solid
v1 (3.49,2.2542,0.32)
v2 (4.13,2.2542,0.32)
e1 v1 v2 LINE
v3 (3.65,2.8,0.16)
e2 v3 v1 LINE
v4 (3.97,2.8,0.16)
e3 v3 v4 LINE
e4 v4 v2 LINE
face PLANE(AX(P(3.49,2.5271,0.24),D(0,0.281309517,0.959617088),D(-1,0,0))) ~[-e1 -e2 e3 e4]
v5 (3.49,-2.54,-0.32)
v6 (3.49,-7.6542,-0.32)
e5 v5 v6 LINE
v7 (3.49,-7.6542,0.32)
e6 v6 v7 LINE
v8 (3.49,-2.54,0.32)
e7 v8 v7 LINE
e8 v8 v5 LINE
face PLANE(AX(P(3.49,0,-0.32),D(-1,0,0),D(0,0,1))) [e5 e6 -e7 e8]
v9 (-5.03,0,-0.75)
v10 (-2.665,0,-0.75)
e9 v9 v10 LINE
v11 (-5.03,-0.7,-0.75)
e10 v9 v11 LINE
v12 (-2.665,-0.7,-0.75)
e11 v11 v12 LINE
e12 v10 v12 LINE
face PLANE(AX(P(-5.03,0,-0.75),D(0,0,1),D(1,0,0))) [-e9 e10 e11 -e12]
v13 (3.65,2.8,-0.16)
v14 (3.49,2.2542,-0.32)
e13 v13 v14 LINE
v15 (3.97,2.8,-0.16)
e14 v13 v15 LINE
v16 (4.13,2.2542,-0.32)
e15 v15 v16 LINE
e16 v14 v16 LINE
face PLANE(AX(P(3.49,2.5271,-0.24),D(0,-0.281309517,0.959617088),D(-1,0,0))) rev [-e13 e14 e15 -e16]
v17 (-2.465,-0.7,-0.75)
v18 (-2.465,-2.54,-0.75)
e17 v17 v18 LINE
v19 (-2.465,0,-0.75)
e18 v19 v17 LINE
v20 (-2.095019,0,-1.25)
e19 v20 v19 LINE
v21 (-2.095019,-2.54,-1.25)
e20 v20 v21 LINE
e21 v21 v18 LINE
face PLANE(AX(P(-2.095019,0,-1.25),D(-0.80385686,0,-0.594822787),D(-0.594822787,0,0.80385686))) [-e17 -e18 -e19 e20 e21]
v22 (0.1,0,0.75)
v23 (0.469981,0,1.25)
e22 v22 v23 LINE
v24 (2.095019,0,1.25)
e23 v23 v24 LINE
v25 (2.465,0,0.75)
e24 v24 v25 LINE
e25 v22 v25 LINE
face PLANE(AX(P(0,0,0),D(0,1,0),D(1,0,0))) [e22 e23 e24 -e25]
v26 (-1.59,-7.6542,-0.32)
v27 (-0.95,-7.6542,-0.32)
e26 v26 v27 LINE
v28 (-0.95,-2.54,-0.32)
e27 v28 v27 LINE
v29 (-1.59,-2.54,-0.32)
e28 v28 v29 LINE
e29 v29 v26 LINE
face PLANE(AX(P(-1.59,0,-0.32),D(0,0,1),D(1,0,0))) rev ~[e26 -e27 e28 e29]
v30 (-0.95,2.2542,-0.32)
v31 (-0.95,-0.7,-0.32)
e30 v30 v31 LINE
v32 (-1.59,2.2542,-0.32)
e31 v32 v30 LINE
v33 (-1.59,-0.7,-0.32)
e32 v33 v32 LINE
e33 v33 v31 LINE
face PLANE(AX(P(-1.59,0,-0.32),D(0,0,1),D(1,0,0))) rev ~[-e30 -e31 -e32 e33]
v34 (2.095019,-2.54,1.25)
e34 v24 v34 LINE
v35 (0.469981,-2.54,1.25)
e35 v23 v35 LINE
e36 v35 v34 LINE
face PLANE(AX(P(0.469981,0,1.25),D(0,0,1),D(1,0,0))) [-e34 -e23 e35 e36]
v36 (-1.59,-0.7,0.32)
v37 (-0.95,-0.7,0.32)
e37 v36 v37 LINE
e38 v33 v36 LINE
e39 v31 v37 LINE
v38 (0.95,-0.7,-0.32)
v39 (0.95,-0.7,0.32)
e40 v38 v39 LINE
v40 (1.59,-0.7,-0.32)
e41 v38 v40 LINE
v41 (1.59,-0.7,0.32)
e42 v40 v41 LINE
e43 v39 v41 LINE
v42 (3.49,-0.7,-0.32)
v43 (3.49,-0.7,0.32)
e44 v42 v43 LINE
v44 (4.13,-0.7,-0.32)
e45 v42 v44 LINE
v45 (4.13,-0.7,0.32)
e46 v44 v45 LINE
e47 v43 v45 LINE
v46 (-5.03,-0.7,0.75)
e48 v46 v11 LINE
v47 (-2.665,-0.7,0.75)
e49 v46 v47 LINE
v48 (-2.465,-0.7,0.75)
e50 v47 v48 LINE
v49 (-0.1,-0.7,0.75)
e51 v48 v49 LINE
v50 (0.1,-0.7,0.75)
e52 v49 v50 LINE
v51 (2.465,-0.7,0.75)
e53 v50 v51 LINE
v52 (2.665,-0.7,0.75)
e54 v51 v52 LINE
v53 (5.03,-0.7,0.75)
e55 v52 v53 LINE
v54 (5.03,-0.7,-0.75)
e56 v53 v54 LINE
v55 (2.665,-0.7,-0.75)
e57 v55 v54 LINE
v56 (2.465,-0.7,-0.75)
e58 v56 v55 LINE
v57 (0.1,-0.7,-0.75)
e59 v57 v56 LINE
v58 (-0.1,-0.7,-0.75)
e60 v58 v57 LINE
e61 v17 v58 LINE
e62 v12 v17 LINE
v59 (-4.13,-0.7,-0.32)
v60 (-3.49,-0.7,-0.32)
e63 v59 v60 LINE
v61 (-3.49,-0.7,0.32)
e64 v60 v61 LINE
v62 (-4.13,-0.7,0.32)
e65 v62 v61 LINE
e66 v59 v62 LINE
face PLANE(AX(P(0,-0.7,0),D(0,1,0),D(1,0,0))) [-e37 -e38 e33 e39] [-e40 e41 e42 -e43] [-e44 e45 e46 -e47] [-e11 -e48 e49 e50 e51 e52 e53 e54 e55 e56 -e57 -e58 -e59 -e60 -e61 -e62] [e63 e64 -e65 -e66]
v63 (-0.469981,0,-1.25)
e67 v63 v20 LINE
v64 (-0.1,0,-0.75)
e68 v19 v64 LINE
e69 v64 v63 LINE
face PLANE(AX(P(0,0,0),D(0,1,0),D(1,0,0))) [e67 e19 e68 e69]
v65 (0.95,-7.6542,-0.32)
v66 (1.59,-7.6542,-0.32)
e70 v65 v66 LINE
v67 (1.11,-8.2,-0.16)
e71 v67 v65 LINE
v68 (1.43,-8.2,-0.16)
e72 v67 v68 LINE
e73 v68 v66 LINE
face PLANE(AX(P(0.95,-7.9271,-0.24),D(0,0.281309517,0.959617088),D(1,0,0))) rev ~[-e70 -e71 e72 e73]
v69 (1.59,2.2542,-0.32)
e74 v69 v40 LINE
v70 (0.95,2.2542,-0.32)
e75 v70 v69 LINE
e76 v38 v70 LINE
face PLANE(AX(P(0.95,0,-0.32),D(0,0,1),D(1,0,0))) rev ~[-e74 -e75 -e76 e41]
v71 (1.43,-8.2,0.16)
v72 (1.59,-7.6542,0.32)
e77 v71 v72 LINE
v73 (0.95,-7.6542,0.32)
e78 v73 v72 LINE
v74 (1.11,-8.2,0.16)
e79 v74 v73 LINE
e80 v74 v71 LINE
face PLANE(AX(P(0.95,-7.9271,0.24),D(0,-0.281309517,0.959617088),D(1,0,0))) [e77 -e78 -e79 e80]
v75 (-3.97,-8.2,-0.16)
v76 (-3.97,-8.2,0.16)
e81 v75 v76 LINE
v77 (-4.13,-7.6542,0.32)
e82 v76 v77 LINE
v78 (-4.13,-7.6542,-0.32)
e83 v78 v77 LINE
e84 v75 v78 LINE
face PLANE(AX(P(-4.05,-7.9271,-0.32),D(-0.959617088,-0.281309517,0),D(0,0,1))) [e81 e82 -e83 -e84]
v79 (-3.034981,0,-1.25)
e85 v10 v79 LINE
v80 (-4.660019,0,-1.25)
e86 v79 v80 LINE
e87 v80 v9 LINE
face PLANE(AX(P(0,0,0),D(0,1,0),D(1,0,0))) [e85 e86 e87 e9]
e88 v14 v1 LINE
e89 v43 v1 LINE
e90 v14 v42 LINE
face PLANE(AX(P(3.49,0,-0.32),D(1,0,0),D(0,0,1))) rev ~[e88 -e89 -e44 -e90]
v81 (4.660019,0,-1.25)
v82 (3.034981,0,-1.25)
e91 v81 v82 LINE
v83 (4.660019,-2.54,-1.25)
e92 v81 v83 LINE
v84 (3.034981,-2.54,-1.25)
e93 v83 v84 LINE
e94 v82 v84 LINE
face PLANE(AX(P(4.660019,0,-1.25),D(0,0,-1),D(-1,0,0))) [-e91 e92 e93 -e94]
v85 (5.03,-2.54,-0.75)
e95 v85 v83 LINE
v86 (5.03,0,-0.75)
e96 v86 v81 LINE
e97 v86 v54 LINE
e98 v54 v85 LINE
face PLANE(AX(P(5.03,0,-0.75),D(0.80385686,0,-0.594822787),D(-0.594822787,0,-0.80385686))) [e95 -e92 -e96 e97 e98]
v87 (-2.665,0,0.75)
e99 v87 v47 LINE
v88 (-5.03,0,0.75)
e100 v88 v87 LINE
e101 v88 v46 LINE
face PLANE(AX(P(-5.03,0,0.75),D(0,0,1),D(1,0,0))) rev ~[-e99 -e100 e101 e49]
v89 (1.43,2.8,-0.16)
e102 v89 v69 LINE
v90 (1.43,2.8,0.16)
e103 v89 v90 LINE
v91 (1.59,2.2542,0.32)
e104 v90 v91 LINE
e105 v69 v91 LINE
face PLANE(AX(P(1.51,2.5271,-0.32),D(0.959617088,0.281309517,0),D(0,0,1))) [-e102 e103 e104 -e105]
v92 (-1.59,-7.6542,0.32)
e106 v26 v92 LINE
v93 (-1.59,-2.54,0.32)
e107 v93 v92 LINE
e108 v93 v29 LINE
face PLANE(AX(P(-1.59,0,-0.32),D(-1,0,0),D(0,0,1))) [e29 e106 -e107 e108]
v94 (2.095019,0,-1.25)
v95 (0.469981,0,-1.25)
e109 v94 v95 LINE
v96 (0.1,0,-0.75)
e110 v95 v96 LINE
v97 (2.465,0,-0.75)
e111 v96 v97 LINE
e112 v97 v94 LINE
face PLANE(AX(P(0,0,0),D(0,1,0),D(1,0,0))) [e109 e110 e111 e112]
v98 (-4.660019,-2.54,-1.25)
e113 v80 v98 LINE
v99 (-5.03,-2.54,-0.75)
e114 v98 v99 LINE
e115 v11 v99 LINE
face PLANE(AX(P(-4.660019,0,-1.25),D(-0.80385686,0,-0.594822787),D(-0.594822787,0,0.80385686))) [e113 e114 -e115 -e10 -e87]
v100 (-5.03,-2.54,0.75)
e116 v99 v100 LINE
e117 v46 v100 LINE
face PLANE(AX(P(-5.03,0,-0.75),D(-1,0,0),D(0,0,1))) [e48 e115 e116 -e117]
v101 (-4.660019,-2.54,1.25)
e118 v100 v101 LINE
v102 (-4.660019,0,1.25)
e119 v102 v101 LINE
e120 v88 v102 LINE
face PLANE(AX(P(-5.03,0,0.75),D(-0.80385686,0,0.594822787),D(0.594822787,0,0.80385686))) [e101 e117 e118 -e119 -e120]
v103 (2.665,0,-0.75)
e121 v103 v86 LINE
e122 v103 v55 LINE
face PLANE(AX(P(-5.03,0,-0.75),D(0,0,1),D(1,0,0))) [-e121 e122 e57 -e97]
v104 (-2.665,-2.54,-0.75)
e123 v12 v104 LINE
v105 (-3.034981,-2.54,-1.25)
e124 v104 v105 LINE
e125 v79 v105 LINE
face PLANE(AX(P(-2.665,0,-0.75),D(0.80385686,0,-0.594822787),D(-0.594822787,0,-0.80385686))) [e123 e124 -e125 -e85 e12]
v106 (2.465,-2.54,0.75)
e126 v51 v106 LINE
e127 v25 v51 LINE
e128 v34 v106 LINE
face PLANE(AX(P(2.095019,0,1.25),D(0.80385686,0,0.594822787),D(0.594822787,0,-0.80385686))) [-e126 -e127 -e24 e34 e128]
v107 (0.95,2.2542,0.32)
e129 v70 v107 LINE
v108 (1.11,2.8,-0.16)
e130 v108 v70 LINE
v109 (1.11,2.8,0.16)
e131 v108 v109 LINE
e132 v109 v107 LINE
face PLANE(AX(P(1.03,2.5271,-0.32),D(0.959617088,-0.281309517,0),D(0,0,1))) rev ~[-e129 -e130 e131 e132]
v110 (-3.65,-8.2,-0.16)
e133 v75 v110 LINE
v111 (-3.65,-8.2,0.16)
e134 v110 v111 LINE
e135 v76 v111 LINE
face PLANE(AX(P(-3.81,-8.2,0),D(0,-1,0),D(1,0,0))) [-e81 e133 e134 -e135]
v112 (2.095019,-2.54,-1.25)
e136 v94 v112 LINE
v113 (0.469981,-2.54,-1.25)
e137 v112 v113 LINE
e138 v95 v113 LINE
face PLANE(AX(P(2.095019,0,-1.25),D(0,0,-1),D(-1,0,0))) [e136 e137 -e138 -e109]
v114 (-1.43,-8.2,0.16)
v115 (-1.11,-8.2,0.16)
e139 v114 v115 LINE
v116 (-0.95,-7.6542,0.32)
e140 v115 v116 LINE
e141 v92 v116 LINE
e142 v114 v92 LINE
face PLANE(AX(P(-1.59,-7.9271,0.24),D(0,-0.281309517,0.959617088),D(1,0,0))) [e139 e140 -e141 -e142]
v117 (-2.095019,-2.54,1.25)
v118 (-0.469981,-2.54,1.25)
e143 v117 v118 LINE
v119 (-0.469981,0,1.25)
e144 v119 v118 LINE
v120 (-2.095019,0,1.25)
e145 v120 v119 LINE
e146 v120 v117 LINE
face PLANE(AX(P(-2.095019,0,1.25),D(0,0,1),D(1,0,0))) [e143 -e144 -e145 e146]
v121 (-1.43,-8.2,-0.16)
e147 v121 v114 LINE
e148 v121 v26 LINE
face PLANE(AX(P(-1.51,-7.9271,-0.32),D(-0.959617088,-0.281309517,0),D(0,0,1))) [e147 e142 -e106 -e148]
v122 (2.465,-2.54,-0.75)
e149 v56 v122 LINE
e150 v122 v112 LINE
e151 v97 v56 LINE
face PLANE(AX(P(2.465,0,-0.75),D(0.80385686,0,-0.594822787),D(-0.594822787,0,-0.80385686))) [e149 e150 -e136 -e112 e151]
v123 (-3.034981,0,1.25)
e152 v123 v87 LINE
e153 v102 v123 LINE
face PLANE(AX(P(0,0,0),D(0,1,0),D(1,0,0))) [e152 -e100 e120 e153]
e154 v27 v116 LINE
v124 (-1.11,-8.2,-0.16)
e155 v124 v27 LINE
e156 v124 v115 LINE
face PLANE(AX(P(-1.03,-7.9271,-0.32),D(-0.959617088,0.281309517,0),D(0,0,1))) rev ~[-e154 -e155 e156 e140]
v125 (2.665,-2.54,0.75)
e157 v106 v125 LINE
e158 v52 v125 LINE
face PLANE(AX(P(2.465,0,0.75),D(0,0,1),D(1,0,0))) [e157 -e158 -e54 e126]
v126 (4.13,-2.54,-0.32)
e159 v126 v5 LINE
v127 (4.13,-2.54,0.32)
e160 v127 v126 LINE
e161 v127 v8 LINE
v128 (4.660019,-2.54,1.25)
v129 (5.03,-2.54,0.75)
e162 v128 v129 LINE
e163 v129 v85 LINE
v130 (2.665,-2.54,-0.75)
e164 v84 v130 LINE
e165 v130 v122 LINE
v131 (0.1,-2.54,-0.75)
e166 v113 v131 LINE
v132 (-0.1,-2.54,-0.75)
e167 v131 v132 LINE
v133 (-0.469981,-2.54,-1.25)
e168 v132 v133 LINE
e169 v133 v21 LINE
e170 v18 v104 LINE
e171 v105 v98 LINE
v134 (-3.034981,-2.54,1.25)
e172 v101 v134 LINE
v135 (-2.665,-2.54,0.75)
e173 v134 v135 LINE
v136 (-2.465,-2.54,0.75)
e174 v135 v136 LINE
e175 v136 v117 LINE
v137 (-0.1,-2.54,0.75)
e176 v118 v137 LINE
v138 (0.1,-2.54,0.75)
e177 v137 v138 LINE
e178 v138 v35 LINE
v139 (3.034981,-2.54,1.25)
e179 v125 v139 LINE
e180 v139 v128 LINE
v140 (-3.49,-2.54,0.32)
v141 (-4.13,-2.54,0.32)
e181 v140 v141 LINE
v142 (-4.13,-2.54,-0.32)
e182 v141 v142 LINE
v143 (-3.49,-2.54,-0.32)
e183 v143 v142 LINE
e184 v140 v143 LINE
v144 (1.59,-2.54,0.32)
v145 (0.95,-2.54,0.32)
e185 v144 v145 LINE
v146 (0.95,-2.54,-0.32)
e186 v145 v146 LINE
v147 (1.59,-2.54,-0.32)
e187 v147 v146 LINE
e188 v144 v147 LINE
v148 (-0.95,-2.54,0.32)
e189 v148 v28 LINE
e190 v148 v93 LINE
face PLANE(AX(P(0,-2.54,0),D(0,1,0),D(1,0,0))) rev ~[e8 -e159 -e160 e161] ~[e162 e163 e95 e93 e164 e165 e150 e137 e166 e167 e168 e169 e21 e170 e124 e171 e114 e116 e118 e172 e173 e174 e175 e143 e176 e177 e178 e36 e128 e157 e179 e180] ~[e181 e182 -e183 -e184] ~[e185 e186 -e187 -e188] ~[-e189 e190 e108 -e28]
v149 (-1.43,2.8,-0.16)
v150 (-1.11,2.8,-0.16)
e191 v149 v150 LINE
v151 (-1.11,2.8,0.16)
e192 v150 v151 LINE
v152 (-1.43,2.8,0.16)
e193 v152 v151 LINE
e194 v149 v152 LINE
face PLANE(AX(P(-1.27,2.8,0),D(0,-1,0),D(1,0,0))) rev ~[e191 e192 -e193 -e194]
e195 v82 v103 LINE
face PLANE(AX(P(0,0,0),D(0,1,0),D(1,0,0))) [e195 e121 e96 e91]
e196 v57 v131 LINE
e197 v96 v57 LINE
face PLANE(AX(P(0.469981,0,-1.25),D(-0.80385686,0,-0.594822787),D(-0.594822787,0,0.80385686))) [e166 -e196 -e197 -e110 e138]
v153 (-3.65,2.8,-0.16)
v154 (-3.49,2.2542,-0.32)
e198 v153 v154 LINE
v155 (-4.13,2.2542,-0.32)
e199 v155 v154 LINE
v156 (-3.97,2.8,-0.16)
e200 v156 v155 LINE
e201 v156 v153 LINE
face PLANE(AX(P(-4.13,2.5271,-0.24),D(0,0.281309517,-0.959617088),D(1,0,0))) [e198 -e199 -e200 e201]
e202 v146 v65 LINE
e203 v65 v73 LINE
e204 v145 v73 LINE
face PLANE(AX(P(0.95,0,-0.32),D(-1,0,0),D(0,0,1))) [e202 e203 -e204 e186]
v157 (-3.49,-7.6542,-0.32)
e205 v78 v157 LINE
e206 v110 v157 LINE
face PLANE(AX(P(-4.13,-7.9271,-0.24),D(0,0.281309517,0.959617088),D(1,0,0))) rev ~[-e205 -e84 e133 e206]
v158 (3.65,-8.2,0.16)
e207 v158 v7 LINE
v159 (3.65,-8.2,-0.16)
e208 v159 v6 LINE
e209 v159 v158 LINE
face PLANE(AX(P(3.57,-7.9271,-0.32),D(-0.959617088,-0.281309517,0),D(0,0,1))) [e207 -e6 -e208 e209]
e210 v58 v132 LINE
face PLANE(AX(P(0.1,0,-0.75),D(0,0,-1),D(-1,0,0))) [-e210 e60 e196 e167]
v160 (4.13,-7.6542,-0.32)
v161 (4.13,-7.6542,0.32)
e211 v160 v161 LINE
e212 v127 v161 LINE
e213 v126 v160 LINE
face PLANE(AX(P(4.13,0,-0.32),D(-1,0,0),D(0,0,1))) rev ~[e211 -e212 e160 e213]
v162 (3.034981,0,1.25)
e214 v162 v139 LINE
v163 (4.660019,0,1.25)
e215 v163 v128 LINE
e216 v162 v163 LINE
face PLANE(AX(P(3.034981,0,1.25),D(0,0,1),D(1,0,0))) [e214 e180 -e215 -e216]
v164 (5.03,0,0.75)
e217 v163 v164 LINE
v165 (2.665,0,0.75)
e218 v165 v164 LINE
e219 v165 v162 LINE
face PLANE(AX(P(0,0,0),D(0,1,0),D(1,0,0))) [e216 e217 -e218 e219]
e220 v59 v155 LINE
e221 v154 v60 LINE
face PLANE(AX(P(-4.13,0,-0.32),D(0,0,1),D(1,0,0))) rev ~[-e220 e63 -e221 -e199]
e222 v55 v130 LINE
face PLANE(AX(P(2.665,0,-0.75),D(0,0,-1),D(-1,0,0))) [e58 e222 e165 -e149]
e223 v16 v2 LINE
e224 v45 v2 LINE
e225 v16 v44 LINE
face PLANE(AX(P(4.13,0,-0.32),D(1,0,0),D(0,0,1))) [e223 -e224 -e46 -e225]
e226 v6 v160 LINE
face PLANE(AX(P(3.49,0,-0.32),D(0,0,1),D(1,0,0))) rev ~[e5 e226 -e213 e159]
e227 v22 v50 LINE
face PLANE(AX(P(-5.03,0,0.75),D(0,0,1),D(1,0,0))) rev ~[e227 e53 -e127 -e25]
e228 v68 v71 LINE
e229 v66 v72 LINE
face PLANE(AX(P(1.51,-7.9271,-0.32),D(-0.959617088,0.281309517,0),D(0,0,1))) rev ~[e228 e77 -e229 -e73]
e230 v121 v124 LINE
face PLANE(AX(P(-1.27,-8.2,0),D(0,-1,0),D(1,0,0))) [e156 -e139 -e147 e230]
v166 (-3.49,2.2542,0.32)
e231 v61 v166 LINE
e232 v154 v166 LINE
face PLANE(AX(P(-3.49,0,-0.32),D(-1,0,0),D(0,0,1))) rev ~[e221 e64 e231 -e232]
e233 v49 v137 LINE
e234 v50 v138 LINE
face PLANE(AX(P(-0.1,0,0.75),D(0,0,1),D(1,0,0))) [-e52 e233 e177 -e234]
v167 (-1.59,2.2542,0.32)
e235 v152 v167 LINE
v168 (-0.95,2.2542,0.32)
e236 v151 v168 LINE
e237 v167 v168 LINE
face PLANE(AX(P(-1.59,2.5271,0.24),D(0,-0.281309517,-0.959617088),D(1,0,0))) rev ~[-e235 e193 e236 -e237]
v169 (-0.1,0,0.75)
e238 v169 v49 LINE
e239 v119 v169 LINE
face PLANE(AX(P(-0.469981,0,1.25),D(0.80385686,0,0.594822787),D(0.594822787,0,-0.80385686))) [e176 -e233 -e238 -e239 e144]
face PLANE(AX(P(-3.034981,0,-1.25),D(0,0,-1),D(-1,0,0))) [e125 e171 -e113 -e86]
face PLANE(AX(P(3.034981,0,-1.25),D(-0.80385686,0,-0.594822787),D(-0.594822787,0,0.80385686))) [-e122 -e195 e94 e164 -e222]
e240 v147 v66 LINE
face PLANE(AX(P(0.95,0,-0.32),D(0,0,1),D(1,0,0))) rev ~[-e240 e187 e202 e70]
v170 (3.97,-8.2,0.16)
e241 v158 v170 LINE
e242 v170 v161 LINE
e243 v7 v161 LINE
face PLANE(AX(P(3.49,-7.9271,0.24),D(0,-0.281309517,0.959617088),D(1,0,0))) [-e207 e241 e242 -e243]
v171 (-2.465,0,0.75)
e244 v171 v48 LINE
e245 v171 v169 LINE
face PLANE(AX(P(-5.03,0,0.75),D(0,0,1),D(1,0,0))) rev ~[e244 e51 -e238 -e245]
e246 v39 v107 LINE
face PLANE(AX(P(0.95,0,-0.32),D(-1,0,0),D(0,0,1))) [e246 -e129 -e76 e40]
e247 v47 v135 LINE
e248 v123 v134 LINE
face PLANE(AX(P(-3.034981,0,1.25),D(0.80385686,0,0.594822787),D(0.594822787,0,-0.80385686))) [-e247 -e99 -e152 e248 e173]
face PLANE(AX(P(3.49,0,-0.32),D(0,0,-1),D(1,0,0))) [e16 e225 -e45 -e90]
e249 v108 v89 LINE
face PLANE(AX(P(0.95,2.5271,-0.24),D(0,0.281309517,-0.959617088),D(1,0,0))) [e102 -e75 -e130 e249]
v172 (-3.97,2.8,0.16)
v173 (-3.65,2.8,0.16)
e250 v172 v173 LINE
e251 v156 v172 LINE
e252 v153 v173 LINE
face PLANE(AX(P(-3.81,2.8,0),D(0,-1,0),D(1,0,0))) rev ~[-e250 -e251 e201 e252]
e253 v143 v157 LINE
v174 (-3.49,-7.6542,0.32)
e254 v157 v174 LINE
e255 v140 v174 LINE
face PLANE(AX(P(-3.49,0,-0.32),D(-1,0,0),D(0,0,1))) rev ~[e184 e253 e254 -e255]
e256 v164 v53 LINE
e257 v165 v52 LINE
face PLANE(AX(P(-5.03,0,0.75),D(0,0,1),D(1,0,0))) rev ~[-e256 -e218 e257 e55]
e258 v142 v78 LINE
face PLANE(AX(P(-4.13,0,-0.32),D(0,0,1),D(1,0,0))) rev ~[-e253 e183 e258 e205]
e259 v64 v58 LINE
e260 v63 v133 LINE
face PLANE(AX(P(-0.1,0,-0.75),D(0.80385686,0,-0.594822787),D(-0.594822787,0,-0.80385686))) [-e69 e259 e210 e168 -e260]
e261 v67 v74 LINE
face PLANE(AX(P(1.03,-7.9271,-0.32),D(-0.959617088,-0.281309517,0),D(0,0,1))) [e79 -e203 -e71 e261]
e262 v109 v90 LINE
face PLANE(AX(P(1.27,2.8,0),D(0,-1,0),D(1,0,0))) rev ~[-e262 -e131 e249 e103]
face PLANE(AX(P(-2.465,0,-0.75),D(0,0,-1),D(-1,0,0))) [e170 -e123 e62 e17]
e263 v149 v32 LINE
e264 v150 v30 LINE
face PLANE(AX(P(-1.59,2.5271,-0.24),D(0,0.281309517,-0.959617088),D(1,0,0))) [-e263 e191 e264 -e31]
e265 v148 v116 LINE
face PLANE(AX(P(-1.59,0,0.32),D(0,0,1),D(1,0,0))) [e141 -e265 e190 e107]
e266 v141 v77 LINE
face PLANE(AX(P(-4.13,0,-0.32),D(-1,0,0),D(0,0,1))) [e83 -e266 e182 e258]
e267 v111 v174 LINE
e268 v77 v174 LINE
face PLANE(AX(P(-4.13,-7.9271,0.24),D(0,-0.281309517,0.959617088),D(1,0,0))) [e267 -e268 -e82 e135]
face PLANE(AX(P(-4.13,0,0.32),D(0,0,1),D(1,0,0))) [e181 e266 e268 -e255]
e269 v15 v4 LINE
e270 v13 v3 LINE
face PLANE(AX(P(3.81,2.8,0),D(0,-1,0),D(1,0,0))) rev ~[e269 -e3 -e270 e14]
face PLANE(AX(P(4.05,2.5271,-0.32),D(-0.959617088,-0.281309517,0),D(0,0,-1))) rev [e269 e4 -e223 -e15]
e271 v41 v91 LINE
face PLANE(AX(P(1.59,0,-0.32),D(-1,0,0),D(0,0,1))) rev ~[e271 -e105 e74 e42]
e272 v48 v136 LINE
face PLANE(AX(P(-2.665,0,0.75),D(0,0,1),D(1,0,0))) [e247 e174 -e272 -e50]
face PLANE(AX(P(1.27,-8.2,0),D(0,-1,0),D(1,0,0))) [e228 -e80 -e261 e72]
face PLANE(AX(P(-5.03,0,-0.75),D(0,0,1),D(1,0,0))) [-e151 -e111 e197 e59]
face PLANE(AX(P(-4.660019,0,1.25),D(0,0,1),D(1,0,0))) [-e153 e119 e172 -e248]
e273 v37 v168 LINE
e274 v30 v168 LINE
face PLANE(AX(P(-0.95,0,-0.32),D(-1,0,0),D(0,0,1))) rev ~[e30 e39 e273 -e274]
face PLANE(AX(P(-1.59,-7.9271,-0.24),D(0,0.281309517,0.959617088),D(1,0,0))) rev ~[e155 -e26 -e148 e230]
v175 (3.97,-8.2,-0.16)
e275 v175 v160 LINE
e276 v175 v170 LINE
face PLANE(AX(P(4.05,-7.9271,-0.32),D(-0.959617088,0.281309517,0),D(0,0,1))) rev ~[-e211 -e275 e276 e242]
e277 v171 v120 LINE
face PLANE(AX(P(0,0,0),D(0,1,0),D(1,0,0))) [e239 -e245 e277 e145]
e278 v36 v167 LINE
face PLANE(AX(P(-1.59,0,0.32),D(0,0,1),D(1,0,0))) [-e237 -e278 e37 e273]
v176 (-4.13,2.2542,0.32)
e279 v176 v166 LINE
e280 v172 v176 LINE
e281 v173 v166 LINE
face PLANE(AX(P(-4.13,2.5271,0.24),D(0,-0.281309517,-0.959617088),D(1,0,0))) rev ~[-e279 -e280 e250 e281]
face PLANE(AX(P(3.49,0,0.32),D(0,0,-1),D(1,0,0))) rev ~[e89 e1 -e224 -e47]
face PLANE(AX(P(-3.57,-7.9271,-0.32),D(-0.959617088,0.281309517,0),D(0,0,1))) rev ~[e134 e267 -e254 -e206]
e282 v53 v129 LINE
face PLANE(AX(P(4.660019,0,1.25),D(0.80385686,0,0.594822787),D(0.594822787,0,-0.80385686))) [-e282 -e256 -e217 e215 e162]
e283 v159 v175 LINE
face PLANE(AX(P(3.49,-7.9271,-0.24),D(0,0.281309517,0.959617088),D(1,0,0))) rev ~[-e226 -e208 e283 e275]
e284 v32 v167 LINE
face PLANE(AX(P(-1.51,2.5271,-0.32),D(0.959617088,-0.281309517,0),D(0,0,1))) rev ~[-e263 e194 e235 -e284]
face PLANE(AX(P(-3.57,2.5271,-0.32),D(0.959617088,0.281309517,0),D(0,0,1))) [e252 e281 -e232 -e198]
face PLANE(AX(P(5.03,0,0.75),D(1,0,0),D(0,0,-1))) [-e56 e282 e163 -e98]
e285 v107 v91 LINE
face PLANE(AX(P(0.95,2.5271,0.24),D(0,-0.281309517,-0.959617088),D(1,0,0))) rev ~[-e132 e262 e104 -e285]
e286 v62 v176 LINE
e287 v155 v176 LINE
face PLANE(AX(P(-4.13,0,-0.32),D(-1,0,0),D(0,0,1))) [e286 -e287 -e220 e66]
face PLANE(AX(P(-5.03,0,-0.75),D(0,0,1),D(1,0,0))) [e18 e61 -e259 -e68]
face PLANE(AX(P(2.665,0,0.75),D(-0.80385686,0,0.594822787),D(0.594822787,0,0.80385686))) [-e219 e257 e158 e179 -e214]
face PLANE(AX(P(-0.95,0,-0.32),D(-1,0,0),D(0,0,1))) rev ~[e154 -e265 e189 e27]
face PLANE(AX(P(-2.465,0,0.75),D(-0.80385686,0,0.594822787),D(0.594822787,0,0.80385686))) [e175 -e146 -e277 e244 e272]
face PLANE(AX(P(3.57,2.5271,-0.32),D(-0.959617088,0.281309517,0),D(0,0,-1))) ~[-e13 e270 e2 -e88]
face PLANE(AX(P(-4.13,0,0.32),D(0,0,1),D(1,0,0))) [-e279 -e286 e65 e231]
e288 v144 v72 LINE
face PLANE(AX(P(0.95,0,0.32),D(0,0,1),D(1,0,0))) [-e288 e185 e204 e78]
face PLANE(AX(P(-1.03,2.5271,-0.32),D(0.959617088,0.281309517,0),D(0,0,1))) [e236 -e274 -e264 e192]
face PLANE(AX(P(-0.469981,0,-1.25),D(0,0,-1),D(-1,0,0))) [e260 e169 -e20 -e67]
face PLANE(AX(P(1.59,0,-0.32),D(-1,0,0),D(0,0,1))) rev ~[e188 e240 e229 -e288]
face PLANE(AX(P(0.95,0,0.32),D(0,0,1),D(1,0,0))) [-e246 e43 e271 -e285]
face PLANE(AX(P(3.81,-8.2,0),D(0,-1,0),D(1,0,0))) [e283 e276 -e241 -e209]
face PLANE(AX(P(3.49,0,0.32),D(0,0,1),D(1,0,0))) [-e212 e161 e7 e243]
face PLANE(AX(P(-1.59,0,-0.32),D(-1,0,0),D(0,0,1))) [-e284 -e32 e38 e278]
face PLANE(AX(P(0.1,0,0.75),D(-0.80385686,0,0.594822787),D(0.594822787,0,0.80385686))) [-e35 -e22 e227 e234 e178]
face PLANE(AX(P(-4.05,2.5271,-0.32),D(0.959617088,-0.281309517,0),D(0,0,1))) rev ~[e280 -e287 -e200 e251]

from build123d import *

# Parameters (mm, degrees)
BOSS_EXTRUDE1_DEPTH      = 2.54
SKETCH5_W                = 10.06
SKETCH5_H                = 1.5
CUT_EXTRUDE3_DEPTH       = 0.7
SKETCH3_W                = 0.64
SKETCH3_H                = 0.64
CUT_EXTRUDE2_DEPTH       = 3.54
SKETCH4_W                = 0.64
SKETCH4_H                = 0.64
BOSS_EXTRUDE2_DEPTH      = 8.2
BOSS_EXTRUDE2_DEPTH_BACK = 2.8
CHAMFER1_SIZE            = 0.16
CHAMFER1_SIZE2           = 0.5458
CHAMFER1_PART_2_SIZE     = 0.16
CHAMFER1_PART_2_SIZE2    = 0.5458
CHAMFER1_PART_3_SIZE     = 0.16
CHAMFER1_PART_3_SIZE2    = 0.5458
CHAMFER1_PART_4_SIZE     = 0.16
CHAMFER1_PART_4_SIZE2    = 0.5458
CHAMFER2_SIZE            = 0.16
CHAMFER2_SIZE2           = 0.5458
CHAMFER2_PART_2_SIZE     = 0.16
CHAMFER2_PART_2_SIZE2    = 0.5458
CHAMFER2_PART_3_SIZE     = 0.16
CHAMFER2_PART_3_SIZE2    = 0.5458
CHAMFER2_PART_4_SIZE     = 0.16
CHAMFER2_PART_4_SIZE2    = 0.5458


with BuildPart() as part:
    # Sketch1 → Boss-Extrude1 (new body)
    with BuildSketch(Plane(origin=(0, 0, 0), x_dir=(1, 0, 0), z_dir=(0, 1, 0))):
        Polygon((-4.660019462, -1.25), (-3.034980538, -1.25), (-2.665, -0.75), (-2.465, -0.75), (-2.095019462, -1.25), (-0.469980538, -1.25), (-0.1, -0.75), (0.1, -0.75), (0.469980538, -1.25), (2.095019462, -1.25), (2.465, -0.75), (2.665, -0.75), (3.034980538, -1.25), (4.660019462, -1.25), (5.03, -0.75), (5.03, 0.75), (4.660019462, 1.25), (3.034980538, 1.25), (2.665, 0.75), (2.465, 0.75), (2.095019462, 1.25), (0.469980538, 1.25), (0.1, 0.75), (-0.1, 0.75), (-0.469980538, 1.25), (-2.095019462, 1.25), (-2.465, 0.75), (-2.665, 0.75), (-3.034980538, 1.25), (-4.660019462, 1.25), (-5.03, 0.75), (-5.03, -0.75), align=None)
    extrude(amount=-BOSS_EXTRUDE1_DEPTH)

    # Sketch5 → Cut-Extrude3 (cut)
    with BuildSketch(Plane(origin=(0, 0, 0), x_dir=(1, 0, 0), z_dir=(0, 1, 0))):
        Rectangle(SKETCH5_W, SKETCH5_H)
    extrude(amount=-CUT_EXTRUDE3_DEPTH, mode=Mode.SUBTRACT)

    # Sketch3 → Cut-Extrude2 (cut, through all)
    with BuildSketch(Plane(origin=(0, -2.54, 0), x_dir=(-1, 0, 0), z_dir=(0, -1, 0))):
        with Locations((-3.81, 0)):
            Rectangle(SKETCH3_W, SKETCH3_H)
        with Locations((-1.27, 0)):
            Rectangle(SKETCH3_W, SKETCH3_H)
        with Locations((1.27, 0)):
            Rectangle(SKETCH3_W, SKETCH3_H)
        with Locations((3.81, 0)):
            Rectangle(SKETCH3_W, SKETCH3_H)
    extrude(amount=-CUT_EXTRUDE2_DEPTH, mode=Mode.SUBTRACT)

    # Sketch4 → Boss-Extrude2 (add, two sides)
    with BuildSketch(Plane.XZ) as boss_extrude2_sk:
        with Locations((3.81, 0)):
            Rectangle(SKETCH4_W, SKETCH4_H)
        with Locations((1.27, 0)):
            Rectangle(SKETCH4_W, SKETCH4_H)
        with Locations((-1.27, 0)):
            Rectangle(SKETCH4_W, SKETCH4_H)
        with Locations((-3.81, 0)):
            Rectangle(SKETCH4_W, SKETCH4_H)
    extrude(amount=BOSS_EXTRUDE2_DEPTH)
    extrude(boss_extrude2_sk.sketch, amount=-BOSS_EXTRUDE2_DEPTH_BACK)

    # Chamfer1
    chamfer1_edges = [part.edges().sort_by_distance(p)[0] for p in [
        (3.49, -8.2, 0),
        (3.81, -8.2, -0.32),
        (4.13, -8.2, 0),
        (3.81, -8.2, 0.32),
    ]]
    chamfer1_side = [part.faces().sort_by_distance(p)[0] for p in [
        (3.81, -8.2, 0),
    ]]
    chamfer(chamfer1_edges, length=CHAMFER1_SIZE, length2=CHAMFER1_SIZE2, reference=chamfer1_side[0])

    # Chamfer1 part 2
    chamfer1_part_2_edges = [part.edges().sort_by_distance(p)[0] for p in [
        (0.95, -8.2, 0),
        (1.27, -8.2, -0.32),
        (1.59, -8.2, 0),
        (1.27, -8.2, 0.32),
    ]]
    chamfer1_part_2_side = [part.faces().sort_by_distance(p)[0] for p in [
        (1.27, -8.2, 0),
    ]]
    chamfer(chamfer1_part_2_edges, length=CHAMFER1_PART_2_SIZE, length2=CHAMFER1_PART_2_SIZE2, reference=chamfer1_part_2_side[0])

    # Chamfer1 part 3
    chamfer1_part_3_edges = [part.edges().sort_by_distance(p)[0] for p in [
        (-1.59, -8.2, 0),
        (-1.27, -8.2, -0.32),
        (-0.95, -8.2, 0),
        (-1.27, -8.2, 0.32),
    ]]
    chamfer1_part_3_side = [part.faces().sort_by_distance(p)[0] for p in [
        (-1.27, -8.2, 0),
    ]]
    chamfer(chamfer1_part_3_edges, length=CHAMFER1_PART_3_SIZE, length2=CHAMFER1_PART_3_SIZE2, reference=chamfer1_part_3_side[0])

    # Chamfer1 part 4
    chamfer1_part_4_edges = [part.edges().sort_by_distance(p)[0] for p in [
        (-4.13, -8.2, 0),
        (-3.81, -8.2, -0.32),
        (-3.49, -8.2, 0),
        (-3.81, -8.2, 0.32),
    ]]
    chamfer1_part_4_side = [part.faces().sort_by_distance(p)[0] for p in [
        (-3.81, -8.2, 0),
    ]]
    chamfer(chamfer1_part_4_edges, length=CHAMFER1_PART_4_SIZE, length2=CHAMFER1_PART_4_SIZE2, reference=chamfer1_part_4_side[0])

    # Chamfer2
    chamfer2_edges = [part.edges().sort_by_distance(p)[0] for p in [
        (3.49, 2.8, 0),
        (3.81, 2.8, -0.32),
        (4.13, 2.8, 0),
        (3.81, 2.8, 0.32),
    ]]
    chamfer2_side = [part.faces().sort_by_distance(p)[0] for p in [
        (3.81, 2.8, 0),
    ]]
    chamfer(chamfer2_edges, length=CHAMFER2_SIZE, length2=CHAMFER2_SIZE2, reference=chamfer2_side[0])

    # Chamfer2 part 2
    chamfer2_part_2_edges = [part.edges().sort_by_distance(p)[0] for p in [
        (0.95, 2.8, 0),
        (1.27, 2.8, -0.32),
        (1.59, 2.8, 0),
        (1.27, 2.8, 0.32),
    ]]
    chamfer2_part_2_side = [part.faces().sort_by_distance(p)[0] for p in [
        (1.27, 2.8, 0),
    ]]
    chamfer(chamfer2_part_2_edges, length=CHAMFER2_PART_2_SIZE, length2=CHAMFER2_PART_2_SIZE2, reference=chamfer2_part_2_side[0])

    # Chamfer2 part 3
    chamfer2_part_3_edges = [part.edges().sort_by_distance(p)[0] for p in [
        (-1.59, 2.8, 0),
        (-1.27, 2.8, -0.32),
        (-0.95, 2.8, 0),
        (-1.27, 2.8, 0.32),
    ]]
    chamfer2_part_3_side = [part.faces().sort_by_distance(p)[0] for p in [
        (-1.27, 2.8, 0),
    ]]
    chamfer(chamfer2_part_3_edges, length=CHAMFER2_PART_3_SIZE, length2=CHAMFER2_PART_3_SIZE2, reference=chamfer2_part_3_side[0])

    # Chamfer2 part 4
    chamfer2_part_4_edges = [part.edges().sort_by_distance(p)[0] for p in [
        (-4.13, 2.8, 0),
        (-3.81, 2.8, -0.32),
        (-3.49, 2.8, 0),
        (-3.81, 2.8, 0.32),
    ]]
    chamfer2_part_4_side = [part.faces().sort_by_distance(p)[0] for p in [
        (-3.81, 2.8, 0),
    ]]
    chamfer(chamfer2_part_4_edges, length=CHAMFER2_PART_4_SIZE, length2=CHAMFER2_PART_4_SIZE2, reference=chamfer2_part_4_side[0])


solid = part.part
